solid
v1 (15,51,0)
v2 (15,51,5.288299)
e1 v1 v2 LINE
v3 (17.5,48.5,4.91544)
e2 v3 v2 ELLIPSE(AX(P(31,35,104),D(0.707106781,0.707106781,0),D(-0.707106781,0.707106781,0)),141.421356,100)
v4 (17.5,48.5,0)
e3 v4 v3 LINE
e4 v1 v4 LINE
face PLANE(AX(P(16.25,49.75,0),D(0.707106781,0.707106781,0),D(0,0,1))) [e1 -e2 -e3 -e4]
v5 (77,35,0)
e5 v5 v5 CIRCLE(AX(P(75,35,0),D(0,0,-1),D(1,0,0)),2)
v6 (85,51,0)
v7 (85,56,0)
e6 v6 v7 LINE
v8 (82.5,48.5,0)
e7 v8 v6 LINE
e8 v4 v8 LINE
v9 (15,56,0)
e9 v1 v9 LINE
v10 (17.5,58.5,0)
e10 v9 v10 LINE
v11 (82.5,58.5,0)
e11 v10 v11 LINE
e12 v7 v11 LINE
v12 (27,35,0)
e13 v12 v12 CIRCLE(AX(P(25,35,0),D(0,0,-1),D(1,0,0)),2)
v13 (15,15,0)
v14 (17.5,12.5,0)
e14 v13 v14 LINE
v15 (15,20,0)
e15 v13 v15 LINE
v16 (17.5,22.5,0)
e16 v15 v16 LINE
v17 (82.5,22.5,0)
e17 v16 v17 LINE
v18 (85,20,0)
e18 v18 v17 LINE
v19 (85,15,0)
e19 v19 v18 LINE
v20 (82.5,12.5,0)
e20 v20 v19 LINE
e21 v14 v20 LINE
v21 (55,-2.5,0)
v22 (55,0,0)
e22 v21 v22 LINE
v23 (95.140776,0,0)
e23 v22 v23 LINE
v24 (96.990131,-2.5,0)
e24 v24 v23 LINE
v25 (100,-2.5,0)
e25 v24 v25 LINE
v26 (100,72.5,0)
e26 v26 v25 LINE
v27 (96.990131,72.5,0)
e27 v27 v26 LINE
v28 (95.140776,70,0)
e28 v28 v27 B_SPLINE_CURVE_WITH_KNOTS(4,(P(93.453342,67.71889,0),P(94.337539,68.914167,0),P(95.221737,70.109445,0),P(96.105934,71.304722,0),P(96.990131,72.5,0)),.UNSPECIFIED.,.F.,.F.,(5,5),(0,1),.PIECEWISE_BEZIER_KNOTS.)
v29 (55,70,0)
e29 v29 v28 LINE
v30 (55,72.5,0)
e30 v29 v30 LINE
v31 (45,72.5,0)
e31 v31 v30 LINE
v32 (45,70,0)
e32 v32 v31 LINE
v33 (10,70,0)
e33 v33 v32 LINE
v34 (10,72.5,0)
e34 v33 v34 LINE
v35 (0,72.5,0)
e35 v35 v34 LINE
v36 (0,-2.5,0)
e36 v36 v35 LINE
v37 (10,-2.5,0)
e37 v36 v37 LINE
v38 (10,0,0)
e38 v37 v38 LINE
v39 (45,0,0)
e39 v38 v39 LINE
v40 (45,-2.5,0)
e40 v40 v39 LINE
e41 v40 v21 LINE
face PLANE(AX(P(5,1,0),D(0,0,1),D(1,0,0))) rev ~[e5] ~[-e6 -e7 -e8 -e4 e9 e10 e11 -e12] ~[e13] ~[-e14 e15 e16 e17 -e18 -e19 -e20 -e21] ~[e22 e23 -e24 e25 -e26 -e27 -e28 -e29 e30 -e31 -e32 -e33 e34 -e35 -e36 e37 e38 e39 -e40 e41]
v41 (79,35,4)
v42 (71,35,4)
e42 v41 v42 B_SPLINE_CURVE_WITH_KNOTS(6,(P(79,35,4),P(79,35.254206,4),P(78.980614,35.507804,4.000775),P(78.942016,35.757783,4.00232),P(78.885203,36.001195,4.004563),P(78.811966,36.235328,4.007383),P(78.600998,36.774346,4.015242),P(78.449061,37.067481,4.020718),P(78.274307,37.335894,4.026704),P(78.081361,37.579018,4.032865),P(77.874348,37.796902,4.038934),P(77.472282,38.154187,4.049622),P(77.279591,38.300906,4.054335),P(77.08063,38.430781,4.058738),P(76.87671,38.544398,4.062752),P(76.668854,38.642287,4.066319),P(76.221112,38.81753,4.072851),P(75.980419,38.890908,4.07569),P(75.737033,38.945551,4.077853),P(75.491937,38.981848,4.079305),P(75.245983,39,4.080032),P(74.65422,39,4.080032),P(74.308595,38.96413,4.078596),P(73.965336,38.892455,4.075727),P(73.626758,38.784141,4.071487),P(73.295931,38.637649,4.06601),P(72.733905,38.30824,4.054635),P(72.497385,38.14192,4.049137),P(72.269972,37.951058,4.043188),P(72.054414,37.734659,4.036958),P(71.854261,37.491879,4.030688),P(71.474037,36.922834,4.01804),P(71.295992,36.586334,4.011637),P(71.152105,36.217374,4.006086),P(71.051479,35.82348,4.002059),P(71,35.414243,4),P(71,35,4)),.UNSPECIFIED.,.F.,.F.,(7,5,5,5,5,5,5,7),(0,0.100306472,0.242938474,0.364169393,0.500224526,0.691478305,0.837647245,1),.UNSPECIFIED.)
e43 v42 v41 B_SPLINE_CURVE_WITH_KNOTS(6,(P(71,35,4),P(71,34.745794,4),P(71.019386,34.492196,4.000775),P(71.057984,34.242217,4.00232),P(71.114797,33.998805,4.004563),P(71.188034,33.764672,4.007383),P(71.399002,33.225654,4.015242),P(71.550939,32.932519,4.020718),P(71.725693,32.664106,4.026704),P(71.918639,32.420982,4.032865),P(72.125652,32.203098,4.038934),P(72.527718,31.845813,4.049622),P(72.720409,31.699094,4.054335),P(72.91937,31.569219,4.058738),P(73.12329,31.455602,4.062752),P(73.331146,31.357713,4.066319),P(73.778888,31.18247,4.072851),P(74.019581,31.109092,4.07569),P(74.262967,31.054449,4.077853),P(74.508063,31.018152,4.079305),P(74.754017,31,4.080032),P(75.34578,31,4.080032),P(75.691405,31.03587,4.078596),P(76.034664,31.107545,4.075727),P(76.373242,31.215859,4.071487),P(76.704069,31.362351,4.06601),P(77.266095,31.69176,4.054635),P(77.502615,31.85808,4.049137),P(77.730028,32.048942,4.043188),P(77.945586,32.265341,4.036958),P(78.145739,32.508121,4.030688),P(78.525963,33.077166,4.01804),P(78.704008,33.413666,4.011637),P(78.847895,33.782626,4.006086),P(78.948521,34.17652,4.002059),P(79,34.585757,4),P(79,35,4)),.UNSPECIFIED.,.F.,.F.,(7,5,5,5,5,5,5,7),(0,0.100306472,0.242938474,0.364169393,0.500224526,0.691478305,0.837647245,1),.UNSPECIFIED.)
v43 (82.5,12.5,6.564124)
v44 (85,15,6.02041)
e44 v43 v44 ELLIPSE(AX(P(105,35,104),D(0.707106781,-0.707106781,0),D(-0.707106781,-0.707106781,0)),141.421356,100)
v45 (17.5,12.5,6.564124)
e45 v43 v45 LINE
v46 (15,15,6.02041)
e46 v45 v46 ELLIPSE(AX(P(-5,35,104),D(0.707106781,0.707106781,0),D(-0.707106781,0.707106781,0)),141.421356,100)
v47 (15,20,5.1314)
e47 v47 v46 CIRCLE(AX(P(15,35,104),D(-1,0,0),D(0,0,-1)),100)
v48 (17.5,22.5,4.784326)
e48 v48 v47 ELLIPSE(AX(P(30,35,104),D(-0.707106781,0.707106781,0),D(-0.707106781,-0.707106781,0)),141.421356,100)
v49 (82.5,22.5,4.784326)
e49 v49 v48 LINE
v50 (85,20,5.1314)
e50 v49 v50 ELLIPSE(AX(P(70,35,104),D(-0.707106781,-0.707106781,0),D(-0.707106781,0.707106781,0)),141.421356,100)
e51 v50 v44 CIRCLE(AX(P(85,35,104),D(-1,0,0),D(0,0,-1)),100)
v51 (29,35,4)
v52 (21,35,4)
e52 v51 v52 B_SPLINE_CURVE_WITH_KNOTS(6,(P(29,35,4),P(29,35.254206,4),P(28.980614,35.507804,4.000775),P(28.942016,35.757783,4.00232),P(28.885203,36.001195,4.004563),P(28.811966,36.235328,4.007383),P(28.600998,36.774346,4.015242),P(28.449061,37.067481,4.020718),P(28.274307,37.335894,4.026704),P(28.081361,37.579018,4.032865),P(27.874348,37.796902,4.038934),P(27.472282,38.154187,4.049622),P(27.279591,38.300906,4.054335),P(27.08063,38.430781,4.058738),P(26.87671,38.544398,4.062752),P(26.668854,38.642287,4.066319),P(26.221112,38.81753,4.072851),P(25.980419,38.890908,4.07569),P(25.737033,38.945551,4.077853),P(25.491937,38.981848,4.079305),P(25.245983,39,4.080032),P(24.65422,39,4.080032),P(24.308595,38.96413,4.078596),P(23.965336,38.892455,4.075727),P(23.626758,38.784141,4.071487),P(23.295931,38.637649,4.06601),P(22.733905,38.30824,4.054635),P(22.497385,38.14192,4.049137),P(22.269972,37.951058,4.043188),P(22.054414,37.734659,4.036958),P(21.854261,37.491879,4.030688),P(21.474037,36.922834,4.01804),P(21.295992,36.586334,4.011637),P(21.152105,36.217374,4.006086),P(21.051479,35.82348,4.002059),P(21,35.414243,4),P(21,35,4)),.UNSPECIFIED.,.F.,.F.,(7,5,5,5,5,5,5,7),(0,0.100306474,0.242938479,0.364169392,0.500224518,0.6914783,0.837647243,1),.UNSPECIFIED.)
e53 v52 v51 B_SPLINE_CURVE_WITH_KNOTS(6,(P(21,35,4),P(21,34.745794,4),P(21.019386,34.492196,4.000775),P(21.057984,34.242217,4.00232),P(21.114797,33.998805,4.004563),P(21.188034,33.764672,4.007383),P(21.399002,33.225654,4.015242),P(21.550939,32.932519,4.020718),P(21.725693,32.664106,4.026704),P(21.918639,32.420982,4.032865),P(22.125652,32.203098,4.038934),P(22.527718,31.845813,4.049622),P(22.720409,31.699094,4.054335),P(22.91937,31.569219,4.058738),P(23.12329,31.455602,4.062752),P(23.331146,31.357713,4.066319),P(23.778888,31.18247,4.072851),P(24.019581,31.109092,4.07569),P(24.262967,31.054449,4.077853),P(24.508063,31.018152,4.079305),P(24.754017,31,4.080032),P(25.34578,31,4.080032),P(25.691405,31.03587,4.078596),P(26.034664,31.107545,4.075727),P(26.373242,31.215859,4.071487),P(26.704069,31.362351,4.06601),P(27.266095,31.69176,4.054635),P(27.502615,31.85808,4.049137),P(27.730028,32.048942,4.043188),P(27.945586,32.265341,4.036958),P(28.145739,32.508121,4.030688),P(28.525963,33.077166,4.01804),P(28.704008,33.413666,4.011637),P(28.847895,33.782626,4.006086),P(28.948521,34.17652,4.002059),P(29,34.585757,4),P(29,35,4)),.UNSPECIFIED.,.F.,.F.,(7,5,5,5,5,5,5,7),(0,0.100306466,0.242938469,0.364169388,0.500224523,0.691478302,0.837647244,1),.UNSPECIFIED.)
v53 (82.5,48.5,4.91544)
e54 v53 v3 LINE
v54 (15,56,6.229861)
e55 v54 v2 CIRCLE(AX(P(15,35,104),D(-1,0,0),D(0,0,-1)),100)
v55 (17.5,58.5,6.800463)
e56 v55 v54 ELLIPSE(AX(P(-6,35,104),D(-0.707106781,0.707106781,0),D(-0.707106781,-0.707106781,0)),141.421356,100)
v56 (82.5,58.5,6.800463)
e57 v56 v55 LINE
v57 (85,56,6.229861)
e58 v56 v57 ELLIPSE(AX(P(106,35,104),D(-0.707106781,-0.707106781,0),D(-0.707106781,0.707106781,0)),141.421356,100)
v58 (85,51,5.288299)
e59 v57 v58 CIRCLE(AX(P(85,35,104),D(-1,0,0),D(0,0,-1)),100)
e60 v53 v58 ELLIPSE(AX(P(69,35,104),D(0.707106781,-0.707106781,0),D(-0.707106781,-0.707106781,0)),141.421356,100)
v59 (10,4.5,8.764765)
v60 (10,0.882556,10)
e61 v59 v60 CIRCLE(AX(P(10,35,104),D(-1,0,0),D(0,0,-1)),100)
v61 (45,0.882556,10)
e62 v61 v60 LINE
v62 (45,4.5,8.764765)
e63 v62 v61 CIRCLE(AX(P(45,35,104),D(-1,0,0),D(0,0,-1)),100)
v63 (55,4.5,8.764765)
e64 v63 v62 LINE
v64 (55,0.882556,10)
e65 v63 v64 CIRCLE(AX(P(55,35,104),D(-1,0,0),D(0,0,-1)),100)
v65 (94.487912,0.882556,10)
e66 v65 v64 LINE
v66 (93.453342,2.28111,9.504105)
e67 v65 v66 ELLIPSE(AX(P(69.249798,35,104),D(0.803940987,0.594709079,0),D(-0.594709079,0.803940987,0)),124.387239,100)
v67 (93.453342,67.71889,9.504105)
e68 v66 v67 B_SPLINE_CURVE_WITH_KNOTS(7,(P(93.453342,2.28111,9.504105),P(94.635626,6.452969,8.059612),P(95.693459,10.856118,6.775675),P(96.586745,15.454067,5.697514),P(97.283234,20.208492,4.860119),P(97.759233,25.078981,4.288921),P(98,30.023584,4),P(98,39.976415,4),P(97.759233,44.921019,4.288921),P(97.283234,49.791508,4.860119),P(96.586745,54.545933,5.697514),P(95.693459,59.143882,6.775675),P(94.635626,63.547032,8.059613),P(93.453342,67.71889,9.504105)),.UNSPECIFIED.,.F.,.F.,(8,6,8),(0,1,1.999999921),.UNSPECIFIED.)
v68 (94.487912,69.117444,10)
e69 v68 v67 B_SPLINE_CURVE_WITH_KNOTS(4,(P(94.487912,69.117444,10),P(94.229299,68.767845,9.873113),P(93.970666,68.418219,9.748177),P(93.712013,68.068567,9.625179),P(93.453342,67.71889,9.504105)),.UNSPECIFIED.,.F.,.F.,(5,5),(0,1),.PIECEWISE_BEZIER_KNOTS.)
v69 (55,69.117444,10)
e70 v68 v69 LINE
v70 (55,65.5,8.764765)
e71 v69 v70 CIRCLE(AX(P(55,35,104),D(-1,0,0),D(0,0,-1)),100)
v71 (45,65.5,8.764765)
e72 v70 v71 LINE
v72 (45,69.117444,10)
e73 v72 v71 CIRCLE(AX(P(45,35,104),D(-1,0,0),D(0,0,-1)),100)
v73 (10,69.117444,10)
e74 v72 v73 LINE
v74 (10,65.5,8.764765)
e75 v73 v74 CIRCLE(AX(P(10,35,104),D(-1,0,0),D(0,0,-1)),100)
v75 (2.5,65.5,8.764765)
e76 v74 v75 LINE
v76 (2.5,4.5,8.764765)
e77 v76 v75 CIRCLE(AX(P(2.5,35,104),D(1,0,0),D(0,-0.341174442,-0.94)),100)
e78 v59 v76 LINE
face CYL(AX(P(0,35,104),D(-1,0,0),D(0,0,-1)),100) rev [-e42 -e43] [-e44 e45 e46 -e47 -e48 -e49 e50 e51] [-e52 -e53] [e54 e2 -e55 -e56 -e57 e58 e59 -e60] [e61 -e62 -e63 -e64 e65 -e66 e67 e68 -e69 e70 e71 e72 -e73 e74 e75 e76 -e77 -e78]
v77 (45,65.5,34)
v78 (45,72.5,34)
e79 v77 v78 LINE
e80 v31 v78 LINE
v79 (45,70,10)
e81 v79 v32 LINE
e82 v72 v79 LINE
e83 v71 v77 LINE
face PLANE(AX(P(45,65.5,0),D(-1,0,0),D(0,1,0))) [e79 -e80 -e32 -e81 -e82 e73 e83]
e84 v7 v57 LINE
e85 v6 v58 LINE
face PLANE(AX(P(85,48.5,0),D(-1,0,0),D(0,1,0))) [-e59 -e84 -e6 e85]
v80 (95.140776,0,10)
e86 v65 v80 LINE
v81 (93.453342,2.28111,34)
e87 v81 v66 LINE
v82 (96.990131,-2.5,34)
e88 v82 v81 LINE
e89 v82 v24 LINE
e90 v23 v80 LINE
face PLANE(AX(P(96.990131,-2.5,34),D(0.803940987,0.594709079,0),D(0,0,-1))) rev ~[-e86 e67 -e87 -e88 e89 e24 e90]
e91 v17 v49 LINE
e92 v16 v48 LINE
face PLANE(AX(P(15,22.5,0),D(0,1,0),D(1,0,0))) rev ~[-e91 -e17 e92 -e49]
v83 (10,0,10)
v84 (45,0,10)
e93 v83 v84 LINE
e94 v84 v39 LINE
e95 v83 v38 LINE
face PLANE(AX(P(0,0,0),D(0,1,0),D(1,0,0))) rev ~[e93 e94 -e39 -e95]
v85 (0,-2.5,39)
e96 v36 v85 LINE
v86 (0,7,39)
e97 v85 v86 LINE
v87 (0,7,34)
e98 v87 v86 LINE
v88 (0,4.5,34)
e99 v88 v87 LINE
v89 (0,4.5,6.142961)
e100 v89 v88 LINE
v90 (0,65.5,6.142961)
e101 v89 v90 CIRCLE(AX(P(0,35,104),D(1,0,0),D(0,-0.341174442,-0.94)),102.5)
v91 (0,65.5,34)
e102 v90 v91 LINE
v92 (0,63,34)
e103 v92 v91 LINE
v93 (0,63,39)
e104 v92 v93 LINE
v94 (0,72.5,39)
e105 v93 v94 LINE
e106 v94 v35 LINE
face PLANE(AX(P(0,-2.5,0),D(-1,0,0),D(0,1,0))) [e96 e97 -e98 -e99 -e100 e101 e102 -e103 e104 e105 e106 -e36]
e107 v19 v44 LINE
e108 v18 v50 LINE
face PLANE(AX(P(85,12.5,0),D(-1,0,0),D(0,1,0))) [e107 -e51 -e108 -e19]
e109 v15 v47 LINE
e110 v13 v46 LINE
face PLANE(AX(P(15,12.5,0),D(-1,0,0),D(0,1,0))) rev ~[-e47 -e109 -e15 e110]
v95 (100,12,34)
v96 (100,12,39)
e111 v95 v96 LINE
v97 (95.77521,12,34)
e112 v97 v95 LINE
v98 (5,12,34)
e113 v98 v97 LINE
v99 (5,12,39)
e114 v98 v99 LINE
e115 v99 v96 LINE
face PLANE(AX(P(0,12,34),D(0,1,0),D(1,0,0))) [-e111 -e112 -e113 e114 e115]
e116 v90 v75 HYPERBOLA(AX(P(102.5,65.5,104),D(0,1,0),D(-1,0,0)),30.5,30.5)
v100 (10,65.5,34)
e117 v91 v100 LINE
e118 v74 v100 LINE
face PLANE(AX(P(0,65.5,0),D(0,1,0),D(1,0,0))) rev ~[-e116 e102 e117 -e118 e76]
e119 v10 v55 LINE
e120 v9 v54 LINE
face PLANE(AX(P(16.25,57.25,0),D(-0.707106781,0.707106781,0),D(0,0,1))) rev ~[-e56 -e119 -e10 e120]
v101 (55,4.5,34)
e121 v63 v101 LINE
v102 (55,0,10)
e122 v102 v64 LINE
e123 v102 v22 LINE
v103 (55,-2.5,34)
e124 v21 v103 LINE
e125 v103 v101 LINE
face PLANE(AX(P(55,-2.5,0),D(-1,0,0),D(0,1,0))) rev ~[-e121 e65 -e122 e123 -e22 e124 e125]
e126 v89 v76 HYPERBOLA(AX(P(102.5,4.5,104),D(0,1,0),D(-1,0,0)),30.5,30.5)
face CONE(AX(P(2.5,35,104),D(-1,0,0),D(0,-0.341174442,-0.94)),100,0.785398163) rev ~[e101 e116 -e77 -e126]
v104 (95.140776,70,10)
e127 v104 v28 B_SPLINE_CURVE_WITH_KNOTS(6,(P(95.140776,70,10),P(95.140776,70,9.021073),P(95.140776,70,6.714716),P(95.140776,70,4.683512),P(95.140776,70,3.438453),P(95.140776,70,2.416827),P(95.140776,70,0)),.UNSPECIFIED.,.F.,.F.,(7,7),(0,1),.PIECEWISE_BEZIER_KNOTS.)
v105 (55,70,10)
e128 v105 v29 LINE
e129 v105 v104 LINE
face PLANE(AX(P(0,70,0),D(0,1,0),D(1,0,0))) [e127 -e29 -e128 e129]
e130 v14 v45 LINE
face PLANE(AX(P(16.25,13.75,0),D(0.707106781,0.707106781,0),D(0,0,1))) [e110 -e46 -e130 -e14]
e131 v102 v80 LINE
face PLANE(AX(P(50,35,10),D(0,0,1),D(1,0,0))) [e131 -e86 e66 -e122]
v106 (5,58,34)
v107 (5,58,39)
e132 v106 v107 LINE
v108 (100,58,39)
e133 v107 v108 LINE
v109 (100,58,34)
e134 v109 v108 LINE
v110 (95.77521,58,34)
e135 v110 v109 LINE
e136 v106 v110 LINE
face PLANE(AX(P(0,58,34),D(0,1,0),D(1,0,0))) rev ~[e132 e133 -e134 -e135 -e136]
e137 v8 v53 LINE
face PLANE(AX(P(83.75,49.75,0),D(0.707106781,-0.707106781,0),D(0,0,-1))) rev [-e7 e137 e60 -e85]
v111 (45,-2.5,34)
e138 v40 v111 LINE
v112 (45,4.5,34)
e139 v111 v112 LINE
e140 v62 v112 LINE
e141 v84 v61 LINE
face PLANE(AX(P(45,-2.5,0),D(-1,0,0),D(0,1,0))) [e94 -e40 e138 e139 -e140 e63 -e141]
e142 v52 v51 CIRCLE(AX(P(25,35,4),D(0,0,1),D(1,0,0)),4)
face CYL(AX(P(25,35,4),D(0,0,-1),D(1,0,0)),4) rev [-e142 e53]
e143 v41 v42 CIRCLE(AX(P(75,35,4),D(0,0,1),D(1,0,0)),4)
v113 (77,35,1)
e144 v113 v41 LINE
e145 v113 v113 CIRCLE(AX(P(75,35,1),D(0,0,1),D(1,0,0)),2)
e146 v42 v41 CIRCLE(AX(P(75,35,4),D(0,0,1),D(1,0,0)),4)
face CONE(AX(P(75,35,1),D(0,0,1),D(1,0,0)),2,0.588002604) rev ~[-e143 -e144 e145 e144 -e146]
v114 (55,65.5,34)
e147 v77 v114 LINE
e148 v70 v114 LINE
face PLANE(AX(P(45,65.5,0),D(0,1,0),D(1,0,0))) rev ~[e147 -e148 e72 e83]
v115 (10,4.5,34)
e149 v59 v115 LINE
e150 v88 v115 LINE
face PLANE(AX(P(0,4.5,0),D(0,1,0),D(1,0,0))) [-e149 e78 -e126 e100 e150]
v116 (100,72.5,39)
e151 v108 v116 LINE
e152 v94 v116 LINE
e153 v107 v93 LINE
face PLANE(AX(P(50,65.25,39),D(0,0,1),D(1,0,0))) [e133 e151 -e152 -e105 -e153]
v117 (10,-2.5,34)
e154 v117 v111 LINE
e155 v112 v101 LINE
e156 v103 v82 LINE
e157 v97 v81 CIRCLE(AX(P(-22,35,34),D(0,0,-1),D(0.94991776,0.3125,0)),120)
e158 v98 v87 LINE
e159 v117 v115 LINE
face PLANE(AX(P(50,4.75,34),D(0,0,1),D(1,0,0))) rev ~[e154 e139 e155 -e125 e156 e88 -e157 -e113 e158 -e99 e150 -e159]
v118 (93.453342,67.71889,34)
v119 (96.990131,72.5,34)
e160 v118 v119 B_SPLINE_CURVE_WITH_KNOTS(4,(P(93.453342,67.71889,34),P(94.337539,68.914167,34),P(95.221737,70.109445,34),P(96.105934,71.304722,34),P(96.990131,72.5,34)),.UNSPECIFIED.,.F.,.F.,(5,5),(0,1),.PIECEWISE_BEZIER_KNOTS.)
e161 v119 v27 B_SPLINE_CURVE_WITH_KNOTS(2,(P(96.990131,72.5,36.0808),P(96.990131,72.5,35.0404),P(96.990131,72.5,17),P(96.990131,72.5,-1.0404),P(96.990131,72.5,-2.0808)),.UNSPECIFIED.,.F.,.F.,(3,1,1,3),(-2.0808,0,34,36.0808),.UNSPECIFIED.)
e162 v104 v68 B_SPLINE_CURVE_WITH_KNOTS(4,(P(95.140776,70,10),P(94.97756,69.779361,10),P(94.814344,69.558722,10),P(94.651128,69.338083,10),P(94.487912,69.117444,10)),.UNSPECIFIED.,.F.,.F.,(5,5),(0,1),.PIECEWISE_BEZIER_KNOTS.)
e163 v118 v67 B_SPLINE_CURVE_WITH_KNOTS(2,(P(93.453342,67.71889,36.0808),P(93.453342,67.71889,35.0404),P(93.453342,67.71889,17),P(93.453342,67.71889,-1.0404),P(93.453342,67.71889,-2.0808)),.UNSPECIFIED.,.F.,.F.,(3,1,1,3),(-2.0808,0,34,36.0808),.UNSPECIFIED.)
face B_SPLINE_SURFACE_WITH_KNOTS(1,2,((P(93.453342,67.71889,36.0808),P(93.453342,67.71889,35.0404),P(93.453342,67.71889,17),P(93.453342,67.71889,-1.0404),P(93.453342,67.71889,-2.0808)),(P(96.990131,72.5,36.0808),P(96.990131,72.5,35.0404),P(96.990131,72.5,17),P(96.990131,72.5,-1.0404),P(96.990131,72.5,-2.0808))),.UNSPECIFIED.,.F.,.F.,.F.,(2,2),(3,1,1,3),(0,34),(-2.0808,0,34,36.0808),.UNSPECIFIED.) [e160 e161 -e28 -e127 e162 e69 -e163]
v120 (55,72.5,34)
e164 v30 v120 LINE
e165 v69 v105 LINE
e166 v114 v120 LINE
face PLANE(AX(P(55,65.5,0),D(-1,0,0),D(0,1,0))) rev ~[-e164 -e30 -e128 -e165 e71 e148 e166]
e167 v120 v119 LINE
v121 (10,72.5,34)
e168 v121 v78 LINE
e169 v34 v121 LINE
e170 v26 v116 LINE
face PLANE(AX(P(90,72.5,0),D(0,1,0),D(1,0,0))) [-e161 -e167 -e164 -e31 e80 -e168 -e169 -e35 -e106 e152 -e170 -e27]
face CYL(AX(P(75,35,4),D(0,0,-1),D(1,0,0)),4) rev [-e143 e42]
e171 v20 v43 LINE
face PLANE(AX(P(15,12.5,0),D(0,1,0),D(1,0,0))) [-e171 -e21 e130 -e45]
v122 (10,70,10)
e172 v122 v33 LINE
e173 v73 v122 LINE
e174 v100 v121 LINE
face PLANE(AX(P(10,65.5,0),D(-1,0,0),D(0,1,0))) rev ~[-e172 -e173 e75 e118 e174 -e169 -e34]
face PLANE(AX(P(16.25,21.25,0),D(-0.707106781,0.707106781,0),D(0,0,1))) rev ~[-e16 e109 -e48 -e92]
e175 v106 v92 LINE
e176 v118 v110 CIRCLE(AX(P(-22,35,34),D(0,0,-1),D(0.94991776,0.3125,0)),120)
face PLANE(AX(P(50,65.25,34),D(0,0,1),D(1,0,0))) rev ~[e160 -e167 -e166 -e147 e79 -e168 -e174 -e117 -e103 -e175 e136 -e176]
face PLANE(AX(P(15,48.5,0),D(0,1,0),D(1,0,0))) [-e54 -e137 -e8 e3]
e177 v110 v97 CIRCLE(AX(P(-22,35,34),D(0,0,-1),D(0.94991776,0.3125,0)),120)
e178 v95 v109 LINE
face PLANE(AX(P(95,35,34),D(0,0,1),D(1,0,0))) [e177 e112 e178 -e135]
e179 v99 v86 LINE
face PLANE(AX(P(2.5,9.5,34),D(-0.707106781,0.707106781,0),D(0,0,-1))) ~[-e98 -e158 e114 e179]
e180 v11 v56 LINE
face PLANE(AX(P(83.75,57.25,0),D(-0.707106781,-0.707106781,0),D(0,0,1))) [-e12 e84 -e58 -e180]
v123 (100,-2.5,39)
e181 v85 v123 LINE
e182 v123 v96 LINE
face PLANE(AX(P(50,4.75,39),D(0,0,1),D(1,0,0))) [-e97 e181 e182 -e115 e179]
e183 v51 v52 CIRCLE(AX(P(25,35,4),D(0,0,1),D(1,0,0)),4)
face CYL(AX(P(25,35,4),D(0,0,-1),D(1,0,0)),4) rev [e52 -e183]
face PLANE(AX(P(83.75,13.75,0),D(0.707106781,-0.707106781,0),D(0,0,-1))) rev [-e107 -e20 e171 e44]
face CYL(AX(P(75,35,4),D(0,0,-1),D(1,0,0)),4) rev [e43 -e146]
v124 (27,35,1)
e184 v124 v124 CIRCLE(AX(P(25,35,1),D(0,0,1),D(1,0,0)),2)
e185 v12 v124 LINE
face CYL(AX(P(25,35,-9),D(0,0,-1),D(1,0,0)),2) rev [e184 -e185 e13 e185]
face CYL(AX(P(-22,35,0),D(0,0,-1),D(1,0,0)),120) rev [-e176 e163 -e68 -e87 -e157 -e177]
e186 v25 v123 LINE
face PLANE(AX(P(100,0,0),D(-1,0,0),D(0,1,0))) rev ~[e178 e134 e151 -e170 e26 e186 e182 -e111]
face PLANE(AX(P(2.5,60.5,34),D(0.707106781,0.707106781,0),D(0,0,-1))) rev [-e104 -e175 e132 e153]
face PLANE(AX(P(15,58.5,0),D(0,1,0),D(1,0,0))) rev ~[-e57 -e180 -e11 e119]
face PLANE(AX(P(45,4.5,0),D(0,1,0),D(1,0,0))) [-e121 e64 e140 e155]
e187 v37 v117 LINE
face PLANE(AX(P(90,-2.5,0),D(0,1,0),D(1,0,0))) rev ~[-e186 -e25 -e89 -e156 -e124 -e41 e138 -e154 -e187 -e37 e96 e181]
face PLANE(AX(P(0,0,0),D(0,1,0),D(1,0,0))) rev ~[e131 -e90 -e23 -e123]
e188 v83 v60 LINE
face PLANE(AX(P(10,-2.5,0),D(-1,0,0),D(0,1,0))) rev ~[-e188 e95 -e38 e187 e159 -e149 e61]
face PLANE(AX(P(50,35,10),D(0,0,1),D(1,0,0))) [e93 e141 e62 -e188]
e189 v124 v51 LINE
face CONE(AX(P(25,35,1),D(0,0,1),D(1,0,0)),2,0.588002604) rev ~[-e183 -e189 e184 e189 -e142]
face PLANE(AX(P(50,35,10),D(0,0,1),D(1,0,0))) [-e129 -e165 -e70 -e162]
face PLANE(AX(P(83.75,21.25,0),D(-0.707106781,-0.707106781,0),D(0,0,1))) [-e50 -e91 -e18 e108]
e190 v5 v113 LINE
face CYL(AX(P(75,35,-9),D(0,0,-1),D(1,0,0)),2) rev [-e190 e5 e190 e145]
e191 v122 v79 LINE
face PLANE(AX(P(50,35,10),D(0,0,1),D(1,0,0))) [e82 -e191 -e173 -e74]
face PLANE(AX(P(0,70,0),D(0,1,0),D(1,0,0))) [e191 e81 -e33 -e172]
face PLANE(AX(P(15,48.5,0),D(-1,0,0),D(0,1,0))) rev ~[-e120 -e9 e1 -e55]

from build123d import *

# Parameters (mm, degrees)
CYLINDER001_R     = 120
CYLINDER001_DEPTH = 40
BOX001_W          = 10
BOX001_H          = 75
BOX001_DEPTH      = 34
CHAMFER004_SIZE   = 5
BOX008_W          = 70
BOX008_H          = 10
BOX008_DEPTH      = 10
CHAMFER_SIZE      = 2.5
BOX009_W          = 70
BOX009_H          = 10
BOX009_DEPTH      = 10
CHAMFER001_SIZE   = 2.5
CYLINDER005_R     = 2
CYLINDER005_DEPTH = 10
CYLINDER004_R     = 4
CYLINDER004_DEPTH = 10
CYLINDER003_R     = 2
CYLINDER003_DEPTH = 10
CYLINDER002_R     = 4
CYLINDER002_DEPTH = 10
CYLINDER_R        = 100
CYLINDER_DEPTH    = 100
BOX_W             = 100
BOX_H             = 70
BOX_DEPTH         = 10
CHAMFER012_SIZE   = 2.5
BOX002_W          = 10
BOX002_H          = 7
BOX002_DEPTH      = 34
BOX003_W          = 100
BOX003_H          = 14.5
BOX003_DEPTH      = 5
BOX004_W          = 10
BOX004_H          = 7
BOX004_DEPTH      = 34
BOX005_W          = 10
BOX005_H          = 7
BOX005_DEPTH      = 34
BOX006_W          = 10
BOX006_H          = 7
BOX006_DEPTH      = 34
BOX007_W          = 100
BOX007_H          = 14.5
BOX007_DEPTH      = 5
CHAMFER013_SIZE   = 5


with BuildPart() as cylinder001:
    # Cylinder001 → Cylinder001 (new body)
    with BuildSketch(Plane(origin=(-22, 35, 0), x_dir=(1, 0, 0), z_dir=(0, 0, 1))):
        Circle(CYLINDER001_R)
    extrude(amount=CYLINDER001_DEPTH)


with BuildPart() as chamfer004:
    # Box001 → Box001 (new body)
    with BuildSketch(Plane(origin=(90, -2.5, 0), x_dir=(1, 0, 0), z_dir=(0, 0, 1))):
        with Locations((5, 37.5)):
            Rectangle(BOX001_W, BOX001_H)
    extrude(amount=BOX001_DEPTH)

    # Cut001: cut Cylinder001
    add(cylinder001.part, mode=Mode.SUBTRACT)

    # Chamfer004
    chamfer004_edges = [chamfer004.edges().sort_by_distance(p)[0] for p in [
        (91.990131, -2.5, 17),
        (91.990131, 72.5, 17),
    ]]
    chamfer(chamfer004_edges, length=CHAMFER004_SIZE)


with BuildPart() as chamfer_body:
    # Box008 → Box008 (new body)
    with BuildSketch(Plane.XY):
        with Locations((35, 5)):
            Rectangle(BOX008_W, BOX008_H)
    extrude(amount=BOX008_DEPTH)

    # Chamfer
    chamfer_edges = [chamfer_body.edges().sort_by_distance(p)[0] for p in [
        (0, 0, 5),
        (0, 10, 5),
        (70, 0, 5),
        (70, 10, 5),
    ]]
    chamfer(chamfer_edges, length=CHAMFER_SIZE)


with BuildPart() as chamfer_body_1:
    # Chamfer placement: moved
    add(chamfer_body.part.moved(Location((15, 12.5, 0))))


with BuildPart() as fusion004:
    # Box009 → Box009 (new body)
    with BuildSketch(Plane.XY):
        with Locations((35, 5)):
            Rectangle(BOX009_W, BOX009_H)
    extrude(amount=BOX009_DEPTH)

    # Chamfer001
    chamfer001_edges = [fusion004.edges().sort_by_distance(p)[0] for p in [
        (0, 0, 5),
        (0, 10, 5),
        (70, 0, 5),
        (70, 10, 5),
    ]]
    chamfer(chamfer001_edges, length=CHAMFER001_SIZE)


with BuildPart() as fusion004_1:
    # Chamfer001 placement: moved
    add(fusion004.part.moved(Location((15, 48.5, 0))))

    # Fusion004: union Chamfer body
    add(chamfer_body_1.part)


with BuildPart() as cone001:
    # Cone001 → Cone001 (revolve)
    with BuildSketch(Plane(origin=(0, 35, 10), x_dir=(1, 0, 0), z_dir=(0, -1, 0))):
        Polygon((0, 0), (2, 0), (4, 3), (0, 3), align=None)
    revolve(axis=Axis((0, 35, 10), (0, 0, 1)))


with BuildPart() as cylinder005:
    # Cylinder005 → Cylinder005 (new body)
    with BuildSketch(Plane(origin=(0, 35, 0), x_dir=(1, 0, 0), z_dir=(0, 0, 1))):
        Circle(CYLINDER005_R)
    extrude(amount=CYLINDER005_DEPTH)


with BuildPart() as countersink_mount001:
    # Cylinder004 → Cylinder004 (new body)
    with BuildSketch(Plane(origin=(0, 35, 13), x_dir=(1, 0, 0), z_dir=(0, 0, 1))):
        Circle(CYLINDER004_R)
    extrude(amount=CYLINDER004_DEPTH)

    # Fusion001: union Cone001, Cylinder005
    add(cone001.part)
    add(cylinder005.part)


with BuildPart() as countersink_mount001_1:
    # Fusion001 placement: moved
    add(countersink_mount001.part.moved(Location((75, 0, -9))))


with BuildPart() as cone:
    # Cone → Cone (revolve)
    with BuildSketch(Plane(origin=(0, 35, 10), x_dir=(1, 0, 0), z_dir=(0, -1, 0))):
        Polygon((0, 0), (2, 0), (4, 3), (0, 3), align=None)
    revolve(axis=Axis((0, 35, 10), (0, 0, 1)))


with BuildPart() as cylinder003:
    # Cylinder003 → Cylinder003 (new body)
    with BuildSketch(Plane(origin=(0, 35, 0), x_dir=(1, 0, 0), z_dir=(0, 0, 1))):
        Circle(CYLINDER003_R)
    extrude(amount=CYLINDER003_DEPTH)


with BuildPart() as fusion002:
    # Cylinder002 → Cylinder002 (new body)
    with BuildSketch(Plane(origin=(0, 35, 13), x_dir=(1, 0, 0), z_dir=(0, 0, 1))):
        Circle(CYLINDER002_R)
    extrude(amount=CYLINDER002_DEPTH)

    # Fusion: union Cone, Cylinder003
    add(cone.part)
    add(cylinder003.part)


with BuildPart() as fusion002_1:
    # Fusion placement: moved
    add(fusion002.part.moved(Location((25, 0, -9))))

    # Fusion002: union countersink mount001
    add(countersink_mount001_1.part)


with BuildPart() as cylinder:
    # Cylinder → Cylinder (new body)
    with BuildSketch(Plane(origin=(0, 35, 104), x_dir=(0, 0, -1), z_dir=(1, 0, 0))):
        Circle(CYLINDER_R)
    extrude(amount=CYLINDER_DEPTH)


with BuildPart() as chamfer012:
    # Box → Box (new body)
    with BuildSketch(Plane.XY):
        with Locations((50, 35)):
            Rectangle(BOX_W, BOX_H)
    extrude(amount=BOX_DEPTH)

    # Cut: cut Cylinder
    add(cylinder.part, mode=Mode.SUBTRACT)

    # Cut002: cut Fusion002
    add(fusion002_1.part, mode=Mode.SUBTRACT)

    # Cut003: cut Fusion004
    add(fusion004_1.part, mode=Mode.SUBTRACT)

    # Chamfer012
    chamfer012_edges = [chamfer012.edges().sort_by_distance(p)[0] for p in [
        (0, 17.679492, 5.511422),
        (0, 52.320508, 5.511422),
    ]]
    chamfer(chamfer012_edges, length=CHAMFER012_SIZE)


with BuildPart() as cube002:
    # Box002 → Box002 (new body)
    with BuildSketch(Plane(origin=(0, 65.5, 0), x_dir=(1, 0, 0), z_dir=(0, 0, 1))):
        with Locations((5, 3.5)):
            Rectangle(BOX002_W, BOX002_H)
    extrude(amount=BOX002_DEPTH)


with BuildPart() as cube003:
    # Box003 → Box003 (new body)
    with BuildSketch(Plane(origin=(0, 58, 34), x_dir=(1, 0, 0), z_dir=(0, 0, 1))):
        with Locations((50, 7.25)):
            Rectangle(BOX003_W, BOX003_H)
    extrude(amount=BOX003_DEPTH)


with BuildPart() as cube004:
    # Box004 → Box004 (new body)
    with BuildSketch(Plane(origin=(45, 65.5, 0), x_dir=(1, 0, 0), z_dir=(0, 0, 1))):
        with Locations((5, 3.5)):
            Rectangle(BOX004_W, BOX004_H)
    extrude(amount=BOX004_DEPTH)


with BuildPart() as cube005:
    # Box005 → Box005 (new body)
    with BuildSketch(Plane(origin=(0, -2.5, 0), x_dir=(1, 0, 0), z_dir=(0, 0, 1))):
        with Locations((5, 3.5)):
            Rectangle(BOX005_W, BOX005_H)
    extrude(amount=BOX005_DEPTH)


with BuildPart() as cube006:
    # Box006 → Box006 (new body)
    with BuildSketch(Plane(origin=(45, -2.5, 0), x_dir=(1, 0, 0), z_dir=(0, 0, 1))):
        with Locations((5, 3.5)):
            Rectangle(BOX006_W, BOX006_H)
    extrude(amount=BOX006_DEPTH)


with BuildPart() as chamfer013:
    # Box007 → Box007 (new body)
    with BuildSketch(Plane(origin=(0, -2.5, 34), x_dir=(1, 0, 0), z_dir=(0, 0, 1))):
        with Locations((50, 7.25)):
            Rectangle(BOX007_W, BOX007_H)
    extrude(amount=BOX007_DEPTH)

    # Fusion003: union Cube002, Cube003, Cube004, Cube005, Cube006
    add(cube002.part)
    add(cube003.part)
    add(cube004.part)
    add(cube005.part)
    add(cube006.part)

    # Fusion005: union Chamfer004, Chamfer012
    add(chamfer004.part)
    add(chamfer012.part)

    # Chamfer013
    chamfer013_edges = [chamfer013.edges().sort_by_distance(p)[0] for p in [
        (0, 12, 36.5),
        (0, 58, 36.5),
    ]]
    chamfer(chamfer013_edges, length=CHAMFER013_SIZE)


solid = chamfer013.part
